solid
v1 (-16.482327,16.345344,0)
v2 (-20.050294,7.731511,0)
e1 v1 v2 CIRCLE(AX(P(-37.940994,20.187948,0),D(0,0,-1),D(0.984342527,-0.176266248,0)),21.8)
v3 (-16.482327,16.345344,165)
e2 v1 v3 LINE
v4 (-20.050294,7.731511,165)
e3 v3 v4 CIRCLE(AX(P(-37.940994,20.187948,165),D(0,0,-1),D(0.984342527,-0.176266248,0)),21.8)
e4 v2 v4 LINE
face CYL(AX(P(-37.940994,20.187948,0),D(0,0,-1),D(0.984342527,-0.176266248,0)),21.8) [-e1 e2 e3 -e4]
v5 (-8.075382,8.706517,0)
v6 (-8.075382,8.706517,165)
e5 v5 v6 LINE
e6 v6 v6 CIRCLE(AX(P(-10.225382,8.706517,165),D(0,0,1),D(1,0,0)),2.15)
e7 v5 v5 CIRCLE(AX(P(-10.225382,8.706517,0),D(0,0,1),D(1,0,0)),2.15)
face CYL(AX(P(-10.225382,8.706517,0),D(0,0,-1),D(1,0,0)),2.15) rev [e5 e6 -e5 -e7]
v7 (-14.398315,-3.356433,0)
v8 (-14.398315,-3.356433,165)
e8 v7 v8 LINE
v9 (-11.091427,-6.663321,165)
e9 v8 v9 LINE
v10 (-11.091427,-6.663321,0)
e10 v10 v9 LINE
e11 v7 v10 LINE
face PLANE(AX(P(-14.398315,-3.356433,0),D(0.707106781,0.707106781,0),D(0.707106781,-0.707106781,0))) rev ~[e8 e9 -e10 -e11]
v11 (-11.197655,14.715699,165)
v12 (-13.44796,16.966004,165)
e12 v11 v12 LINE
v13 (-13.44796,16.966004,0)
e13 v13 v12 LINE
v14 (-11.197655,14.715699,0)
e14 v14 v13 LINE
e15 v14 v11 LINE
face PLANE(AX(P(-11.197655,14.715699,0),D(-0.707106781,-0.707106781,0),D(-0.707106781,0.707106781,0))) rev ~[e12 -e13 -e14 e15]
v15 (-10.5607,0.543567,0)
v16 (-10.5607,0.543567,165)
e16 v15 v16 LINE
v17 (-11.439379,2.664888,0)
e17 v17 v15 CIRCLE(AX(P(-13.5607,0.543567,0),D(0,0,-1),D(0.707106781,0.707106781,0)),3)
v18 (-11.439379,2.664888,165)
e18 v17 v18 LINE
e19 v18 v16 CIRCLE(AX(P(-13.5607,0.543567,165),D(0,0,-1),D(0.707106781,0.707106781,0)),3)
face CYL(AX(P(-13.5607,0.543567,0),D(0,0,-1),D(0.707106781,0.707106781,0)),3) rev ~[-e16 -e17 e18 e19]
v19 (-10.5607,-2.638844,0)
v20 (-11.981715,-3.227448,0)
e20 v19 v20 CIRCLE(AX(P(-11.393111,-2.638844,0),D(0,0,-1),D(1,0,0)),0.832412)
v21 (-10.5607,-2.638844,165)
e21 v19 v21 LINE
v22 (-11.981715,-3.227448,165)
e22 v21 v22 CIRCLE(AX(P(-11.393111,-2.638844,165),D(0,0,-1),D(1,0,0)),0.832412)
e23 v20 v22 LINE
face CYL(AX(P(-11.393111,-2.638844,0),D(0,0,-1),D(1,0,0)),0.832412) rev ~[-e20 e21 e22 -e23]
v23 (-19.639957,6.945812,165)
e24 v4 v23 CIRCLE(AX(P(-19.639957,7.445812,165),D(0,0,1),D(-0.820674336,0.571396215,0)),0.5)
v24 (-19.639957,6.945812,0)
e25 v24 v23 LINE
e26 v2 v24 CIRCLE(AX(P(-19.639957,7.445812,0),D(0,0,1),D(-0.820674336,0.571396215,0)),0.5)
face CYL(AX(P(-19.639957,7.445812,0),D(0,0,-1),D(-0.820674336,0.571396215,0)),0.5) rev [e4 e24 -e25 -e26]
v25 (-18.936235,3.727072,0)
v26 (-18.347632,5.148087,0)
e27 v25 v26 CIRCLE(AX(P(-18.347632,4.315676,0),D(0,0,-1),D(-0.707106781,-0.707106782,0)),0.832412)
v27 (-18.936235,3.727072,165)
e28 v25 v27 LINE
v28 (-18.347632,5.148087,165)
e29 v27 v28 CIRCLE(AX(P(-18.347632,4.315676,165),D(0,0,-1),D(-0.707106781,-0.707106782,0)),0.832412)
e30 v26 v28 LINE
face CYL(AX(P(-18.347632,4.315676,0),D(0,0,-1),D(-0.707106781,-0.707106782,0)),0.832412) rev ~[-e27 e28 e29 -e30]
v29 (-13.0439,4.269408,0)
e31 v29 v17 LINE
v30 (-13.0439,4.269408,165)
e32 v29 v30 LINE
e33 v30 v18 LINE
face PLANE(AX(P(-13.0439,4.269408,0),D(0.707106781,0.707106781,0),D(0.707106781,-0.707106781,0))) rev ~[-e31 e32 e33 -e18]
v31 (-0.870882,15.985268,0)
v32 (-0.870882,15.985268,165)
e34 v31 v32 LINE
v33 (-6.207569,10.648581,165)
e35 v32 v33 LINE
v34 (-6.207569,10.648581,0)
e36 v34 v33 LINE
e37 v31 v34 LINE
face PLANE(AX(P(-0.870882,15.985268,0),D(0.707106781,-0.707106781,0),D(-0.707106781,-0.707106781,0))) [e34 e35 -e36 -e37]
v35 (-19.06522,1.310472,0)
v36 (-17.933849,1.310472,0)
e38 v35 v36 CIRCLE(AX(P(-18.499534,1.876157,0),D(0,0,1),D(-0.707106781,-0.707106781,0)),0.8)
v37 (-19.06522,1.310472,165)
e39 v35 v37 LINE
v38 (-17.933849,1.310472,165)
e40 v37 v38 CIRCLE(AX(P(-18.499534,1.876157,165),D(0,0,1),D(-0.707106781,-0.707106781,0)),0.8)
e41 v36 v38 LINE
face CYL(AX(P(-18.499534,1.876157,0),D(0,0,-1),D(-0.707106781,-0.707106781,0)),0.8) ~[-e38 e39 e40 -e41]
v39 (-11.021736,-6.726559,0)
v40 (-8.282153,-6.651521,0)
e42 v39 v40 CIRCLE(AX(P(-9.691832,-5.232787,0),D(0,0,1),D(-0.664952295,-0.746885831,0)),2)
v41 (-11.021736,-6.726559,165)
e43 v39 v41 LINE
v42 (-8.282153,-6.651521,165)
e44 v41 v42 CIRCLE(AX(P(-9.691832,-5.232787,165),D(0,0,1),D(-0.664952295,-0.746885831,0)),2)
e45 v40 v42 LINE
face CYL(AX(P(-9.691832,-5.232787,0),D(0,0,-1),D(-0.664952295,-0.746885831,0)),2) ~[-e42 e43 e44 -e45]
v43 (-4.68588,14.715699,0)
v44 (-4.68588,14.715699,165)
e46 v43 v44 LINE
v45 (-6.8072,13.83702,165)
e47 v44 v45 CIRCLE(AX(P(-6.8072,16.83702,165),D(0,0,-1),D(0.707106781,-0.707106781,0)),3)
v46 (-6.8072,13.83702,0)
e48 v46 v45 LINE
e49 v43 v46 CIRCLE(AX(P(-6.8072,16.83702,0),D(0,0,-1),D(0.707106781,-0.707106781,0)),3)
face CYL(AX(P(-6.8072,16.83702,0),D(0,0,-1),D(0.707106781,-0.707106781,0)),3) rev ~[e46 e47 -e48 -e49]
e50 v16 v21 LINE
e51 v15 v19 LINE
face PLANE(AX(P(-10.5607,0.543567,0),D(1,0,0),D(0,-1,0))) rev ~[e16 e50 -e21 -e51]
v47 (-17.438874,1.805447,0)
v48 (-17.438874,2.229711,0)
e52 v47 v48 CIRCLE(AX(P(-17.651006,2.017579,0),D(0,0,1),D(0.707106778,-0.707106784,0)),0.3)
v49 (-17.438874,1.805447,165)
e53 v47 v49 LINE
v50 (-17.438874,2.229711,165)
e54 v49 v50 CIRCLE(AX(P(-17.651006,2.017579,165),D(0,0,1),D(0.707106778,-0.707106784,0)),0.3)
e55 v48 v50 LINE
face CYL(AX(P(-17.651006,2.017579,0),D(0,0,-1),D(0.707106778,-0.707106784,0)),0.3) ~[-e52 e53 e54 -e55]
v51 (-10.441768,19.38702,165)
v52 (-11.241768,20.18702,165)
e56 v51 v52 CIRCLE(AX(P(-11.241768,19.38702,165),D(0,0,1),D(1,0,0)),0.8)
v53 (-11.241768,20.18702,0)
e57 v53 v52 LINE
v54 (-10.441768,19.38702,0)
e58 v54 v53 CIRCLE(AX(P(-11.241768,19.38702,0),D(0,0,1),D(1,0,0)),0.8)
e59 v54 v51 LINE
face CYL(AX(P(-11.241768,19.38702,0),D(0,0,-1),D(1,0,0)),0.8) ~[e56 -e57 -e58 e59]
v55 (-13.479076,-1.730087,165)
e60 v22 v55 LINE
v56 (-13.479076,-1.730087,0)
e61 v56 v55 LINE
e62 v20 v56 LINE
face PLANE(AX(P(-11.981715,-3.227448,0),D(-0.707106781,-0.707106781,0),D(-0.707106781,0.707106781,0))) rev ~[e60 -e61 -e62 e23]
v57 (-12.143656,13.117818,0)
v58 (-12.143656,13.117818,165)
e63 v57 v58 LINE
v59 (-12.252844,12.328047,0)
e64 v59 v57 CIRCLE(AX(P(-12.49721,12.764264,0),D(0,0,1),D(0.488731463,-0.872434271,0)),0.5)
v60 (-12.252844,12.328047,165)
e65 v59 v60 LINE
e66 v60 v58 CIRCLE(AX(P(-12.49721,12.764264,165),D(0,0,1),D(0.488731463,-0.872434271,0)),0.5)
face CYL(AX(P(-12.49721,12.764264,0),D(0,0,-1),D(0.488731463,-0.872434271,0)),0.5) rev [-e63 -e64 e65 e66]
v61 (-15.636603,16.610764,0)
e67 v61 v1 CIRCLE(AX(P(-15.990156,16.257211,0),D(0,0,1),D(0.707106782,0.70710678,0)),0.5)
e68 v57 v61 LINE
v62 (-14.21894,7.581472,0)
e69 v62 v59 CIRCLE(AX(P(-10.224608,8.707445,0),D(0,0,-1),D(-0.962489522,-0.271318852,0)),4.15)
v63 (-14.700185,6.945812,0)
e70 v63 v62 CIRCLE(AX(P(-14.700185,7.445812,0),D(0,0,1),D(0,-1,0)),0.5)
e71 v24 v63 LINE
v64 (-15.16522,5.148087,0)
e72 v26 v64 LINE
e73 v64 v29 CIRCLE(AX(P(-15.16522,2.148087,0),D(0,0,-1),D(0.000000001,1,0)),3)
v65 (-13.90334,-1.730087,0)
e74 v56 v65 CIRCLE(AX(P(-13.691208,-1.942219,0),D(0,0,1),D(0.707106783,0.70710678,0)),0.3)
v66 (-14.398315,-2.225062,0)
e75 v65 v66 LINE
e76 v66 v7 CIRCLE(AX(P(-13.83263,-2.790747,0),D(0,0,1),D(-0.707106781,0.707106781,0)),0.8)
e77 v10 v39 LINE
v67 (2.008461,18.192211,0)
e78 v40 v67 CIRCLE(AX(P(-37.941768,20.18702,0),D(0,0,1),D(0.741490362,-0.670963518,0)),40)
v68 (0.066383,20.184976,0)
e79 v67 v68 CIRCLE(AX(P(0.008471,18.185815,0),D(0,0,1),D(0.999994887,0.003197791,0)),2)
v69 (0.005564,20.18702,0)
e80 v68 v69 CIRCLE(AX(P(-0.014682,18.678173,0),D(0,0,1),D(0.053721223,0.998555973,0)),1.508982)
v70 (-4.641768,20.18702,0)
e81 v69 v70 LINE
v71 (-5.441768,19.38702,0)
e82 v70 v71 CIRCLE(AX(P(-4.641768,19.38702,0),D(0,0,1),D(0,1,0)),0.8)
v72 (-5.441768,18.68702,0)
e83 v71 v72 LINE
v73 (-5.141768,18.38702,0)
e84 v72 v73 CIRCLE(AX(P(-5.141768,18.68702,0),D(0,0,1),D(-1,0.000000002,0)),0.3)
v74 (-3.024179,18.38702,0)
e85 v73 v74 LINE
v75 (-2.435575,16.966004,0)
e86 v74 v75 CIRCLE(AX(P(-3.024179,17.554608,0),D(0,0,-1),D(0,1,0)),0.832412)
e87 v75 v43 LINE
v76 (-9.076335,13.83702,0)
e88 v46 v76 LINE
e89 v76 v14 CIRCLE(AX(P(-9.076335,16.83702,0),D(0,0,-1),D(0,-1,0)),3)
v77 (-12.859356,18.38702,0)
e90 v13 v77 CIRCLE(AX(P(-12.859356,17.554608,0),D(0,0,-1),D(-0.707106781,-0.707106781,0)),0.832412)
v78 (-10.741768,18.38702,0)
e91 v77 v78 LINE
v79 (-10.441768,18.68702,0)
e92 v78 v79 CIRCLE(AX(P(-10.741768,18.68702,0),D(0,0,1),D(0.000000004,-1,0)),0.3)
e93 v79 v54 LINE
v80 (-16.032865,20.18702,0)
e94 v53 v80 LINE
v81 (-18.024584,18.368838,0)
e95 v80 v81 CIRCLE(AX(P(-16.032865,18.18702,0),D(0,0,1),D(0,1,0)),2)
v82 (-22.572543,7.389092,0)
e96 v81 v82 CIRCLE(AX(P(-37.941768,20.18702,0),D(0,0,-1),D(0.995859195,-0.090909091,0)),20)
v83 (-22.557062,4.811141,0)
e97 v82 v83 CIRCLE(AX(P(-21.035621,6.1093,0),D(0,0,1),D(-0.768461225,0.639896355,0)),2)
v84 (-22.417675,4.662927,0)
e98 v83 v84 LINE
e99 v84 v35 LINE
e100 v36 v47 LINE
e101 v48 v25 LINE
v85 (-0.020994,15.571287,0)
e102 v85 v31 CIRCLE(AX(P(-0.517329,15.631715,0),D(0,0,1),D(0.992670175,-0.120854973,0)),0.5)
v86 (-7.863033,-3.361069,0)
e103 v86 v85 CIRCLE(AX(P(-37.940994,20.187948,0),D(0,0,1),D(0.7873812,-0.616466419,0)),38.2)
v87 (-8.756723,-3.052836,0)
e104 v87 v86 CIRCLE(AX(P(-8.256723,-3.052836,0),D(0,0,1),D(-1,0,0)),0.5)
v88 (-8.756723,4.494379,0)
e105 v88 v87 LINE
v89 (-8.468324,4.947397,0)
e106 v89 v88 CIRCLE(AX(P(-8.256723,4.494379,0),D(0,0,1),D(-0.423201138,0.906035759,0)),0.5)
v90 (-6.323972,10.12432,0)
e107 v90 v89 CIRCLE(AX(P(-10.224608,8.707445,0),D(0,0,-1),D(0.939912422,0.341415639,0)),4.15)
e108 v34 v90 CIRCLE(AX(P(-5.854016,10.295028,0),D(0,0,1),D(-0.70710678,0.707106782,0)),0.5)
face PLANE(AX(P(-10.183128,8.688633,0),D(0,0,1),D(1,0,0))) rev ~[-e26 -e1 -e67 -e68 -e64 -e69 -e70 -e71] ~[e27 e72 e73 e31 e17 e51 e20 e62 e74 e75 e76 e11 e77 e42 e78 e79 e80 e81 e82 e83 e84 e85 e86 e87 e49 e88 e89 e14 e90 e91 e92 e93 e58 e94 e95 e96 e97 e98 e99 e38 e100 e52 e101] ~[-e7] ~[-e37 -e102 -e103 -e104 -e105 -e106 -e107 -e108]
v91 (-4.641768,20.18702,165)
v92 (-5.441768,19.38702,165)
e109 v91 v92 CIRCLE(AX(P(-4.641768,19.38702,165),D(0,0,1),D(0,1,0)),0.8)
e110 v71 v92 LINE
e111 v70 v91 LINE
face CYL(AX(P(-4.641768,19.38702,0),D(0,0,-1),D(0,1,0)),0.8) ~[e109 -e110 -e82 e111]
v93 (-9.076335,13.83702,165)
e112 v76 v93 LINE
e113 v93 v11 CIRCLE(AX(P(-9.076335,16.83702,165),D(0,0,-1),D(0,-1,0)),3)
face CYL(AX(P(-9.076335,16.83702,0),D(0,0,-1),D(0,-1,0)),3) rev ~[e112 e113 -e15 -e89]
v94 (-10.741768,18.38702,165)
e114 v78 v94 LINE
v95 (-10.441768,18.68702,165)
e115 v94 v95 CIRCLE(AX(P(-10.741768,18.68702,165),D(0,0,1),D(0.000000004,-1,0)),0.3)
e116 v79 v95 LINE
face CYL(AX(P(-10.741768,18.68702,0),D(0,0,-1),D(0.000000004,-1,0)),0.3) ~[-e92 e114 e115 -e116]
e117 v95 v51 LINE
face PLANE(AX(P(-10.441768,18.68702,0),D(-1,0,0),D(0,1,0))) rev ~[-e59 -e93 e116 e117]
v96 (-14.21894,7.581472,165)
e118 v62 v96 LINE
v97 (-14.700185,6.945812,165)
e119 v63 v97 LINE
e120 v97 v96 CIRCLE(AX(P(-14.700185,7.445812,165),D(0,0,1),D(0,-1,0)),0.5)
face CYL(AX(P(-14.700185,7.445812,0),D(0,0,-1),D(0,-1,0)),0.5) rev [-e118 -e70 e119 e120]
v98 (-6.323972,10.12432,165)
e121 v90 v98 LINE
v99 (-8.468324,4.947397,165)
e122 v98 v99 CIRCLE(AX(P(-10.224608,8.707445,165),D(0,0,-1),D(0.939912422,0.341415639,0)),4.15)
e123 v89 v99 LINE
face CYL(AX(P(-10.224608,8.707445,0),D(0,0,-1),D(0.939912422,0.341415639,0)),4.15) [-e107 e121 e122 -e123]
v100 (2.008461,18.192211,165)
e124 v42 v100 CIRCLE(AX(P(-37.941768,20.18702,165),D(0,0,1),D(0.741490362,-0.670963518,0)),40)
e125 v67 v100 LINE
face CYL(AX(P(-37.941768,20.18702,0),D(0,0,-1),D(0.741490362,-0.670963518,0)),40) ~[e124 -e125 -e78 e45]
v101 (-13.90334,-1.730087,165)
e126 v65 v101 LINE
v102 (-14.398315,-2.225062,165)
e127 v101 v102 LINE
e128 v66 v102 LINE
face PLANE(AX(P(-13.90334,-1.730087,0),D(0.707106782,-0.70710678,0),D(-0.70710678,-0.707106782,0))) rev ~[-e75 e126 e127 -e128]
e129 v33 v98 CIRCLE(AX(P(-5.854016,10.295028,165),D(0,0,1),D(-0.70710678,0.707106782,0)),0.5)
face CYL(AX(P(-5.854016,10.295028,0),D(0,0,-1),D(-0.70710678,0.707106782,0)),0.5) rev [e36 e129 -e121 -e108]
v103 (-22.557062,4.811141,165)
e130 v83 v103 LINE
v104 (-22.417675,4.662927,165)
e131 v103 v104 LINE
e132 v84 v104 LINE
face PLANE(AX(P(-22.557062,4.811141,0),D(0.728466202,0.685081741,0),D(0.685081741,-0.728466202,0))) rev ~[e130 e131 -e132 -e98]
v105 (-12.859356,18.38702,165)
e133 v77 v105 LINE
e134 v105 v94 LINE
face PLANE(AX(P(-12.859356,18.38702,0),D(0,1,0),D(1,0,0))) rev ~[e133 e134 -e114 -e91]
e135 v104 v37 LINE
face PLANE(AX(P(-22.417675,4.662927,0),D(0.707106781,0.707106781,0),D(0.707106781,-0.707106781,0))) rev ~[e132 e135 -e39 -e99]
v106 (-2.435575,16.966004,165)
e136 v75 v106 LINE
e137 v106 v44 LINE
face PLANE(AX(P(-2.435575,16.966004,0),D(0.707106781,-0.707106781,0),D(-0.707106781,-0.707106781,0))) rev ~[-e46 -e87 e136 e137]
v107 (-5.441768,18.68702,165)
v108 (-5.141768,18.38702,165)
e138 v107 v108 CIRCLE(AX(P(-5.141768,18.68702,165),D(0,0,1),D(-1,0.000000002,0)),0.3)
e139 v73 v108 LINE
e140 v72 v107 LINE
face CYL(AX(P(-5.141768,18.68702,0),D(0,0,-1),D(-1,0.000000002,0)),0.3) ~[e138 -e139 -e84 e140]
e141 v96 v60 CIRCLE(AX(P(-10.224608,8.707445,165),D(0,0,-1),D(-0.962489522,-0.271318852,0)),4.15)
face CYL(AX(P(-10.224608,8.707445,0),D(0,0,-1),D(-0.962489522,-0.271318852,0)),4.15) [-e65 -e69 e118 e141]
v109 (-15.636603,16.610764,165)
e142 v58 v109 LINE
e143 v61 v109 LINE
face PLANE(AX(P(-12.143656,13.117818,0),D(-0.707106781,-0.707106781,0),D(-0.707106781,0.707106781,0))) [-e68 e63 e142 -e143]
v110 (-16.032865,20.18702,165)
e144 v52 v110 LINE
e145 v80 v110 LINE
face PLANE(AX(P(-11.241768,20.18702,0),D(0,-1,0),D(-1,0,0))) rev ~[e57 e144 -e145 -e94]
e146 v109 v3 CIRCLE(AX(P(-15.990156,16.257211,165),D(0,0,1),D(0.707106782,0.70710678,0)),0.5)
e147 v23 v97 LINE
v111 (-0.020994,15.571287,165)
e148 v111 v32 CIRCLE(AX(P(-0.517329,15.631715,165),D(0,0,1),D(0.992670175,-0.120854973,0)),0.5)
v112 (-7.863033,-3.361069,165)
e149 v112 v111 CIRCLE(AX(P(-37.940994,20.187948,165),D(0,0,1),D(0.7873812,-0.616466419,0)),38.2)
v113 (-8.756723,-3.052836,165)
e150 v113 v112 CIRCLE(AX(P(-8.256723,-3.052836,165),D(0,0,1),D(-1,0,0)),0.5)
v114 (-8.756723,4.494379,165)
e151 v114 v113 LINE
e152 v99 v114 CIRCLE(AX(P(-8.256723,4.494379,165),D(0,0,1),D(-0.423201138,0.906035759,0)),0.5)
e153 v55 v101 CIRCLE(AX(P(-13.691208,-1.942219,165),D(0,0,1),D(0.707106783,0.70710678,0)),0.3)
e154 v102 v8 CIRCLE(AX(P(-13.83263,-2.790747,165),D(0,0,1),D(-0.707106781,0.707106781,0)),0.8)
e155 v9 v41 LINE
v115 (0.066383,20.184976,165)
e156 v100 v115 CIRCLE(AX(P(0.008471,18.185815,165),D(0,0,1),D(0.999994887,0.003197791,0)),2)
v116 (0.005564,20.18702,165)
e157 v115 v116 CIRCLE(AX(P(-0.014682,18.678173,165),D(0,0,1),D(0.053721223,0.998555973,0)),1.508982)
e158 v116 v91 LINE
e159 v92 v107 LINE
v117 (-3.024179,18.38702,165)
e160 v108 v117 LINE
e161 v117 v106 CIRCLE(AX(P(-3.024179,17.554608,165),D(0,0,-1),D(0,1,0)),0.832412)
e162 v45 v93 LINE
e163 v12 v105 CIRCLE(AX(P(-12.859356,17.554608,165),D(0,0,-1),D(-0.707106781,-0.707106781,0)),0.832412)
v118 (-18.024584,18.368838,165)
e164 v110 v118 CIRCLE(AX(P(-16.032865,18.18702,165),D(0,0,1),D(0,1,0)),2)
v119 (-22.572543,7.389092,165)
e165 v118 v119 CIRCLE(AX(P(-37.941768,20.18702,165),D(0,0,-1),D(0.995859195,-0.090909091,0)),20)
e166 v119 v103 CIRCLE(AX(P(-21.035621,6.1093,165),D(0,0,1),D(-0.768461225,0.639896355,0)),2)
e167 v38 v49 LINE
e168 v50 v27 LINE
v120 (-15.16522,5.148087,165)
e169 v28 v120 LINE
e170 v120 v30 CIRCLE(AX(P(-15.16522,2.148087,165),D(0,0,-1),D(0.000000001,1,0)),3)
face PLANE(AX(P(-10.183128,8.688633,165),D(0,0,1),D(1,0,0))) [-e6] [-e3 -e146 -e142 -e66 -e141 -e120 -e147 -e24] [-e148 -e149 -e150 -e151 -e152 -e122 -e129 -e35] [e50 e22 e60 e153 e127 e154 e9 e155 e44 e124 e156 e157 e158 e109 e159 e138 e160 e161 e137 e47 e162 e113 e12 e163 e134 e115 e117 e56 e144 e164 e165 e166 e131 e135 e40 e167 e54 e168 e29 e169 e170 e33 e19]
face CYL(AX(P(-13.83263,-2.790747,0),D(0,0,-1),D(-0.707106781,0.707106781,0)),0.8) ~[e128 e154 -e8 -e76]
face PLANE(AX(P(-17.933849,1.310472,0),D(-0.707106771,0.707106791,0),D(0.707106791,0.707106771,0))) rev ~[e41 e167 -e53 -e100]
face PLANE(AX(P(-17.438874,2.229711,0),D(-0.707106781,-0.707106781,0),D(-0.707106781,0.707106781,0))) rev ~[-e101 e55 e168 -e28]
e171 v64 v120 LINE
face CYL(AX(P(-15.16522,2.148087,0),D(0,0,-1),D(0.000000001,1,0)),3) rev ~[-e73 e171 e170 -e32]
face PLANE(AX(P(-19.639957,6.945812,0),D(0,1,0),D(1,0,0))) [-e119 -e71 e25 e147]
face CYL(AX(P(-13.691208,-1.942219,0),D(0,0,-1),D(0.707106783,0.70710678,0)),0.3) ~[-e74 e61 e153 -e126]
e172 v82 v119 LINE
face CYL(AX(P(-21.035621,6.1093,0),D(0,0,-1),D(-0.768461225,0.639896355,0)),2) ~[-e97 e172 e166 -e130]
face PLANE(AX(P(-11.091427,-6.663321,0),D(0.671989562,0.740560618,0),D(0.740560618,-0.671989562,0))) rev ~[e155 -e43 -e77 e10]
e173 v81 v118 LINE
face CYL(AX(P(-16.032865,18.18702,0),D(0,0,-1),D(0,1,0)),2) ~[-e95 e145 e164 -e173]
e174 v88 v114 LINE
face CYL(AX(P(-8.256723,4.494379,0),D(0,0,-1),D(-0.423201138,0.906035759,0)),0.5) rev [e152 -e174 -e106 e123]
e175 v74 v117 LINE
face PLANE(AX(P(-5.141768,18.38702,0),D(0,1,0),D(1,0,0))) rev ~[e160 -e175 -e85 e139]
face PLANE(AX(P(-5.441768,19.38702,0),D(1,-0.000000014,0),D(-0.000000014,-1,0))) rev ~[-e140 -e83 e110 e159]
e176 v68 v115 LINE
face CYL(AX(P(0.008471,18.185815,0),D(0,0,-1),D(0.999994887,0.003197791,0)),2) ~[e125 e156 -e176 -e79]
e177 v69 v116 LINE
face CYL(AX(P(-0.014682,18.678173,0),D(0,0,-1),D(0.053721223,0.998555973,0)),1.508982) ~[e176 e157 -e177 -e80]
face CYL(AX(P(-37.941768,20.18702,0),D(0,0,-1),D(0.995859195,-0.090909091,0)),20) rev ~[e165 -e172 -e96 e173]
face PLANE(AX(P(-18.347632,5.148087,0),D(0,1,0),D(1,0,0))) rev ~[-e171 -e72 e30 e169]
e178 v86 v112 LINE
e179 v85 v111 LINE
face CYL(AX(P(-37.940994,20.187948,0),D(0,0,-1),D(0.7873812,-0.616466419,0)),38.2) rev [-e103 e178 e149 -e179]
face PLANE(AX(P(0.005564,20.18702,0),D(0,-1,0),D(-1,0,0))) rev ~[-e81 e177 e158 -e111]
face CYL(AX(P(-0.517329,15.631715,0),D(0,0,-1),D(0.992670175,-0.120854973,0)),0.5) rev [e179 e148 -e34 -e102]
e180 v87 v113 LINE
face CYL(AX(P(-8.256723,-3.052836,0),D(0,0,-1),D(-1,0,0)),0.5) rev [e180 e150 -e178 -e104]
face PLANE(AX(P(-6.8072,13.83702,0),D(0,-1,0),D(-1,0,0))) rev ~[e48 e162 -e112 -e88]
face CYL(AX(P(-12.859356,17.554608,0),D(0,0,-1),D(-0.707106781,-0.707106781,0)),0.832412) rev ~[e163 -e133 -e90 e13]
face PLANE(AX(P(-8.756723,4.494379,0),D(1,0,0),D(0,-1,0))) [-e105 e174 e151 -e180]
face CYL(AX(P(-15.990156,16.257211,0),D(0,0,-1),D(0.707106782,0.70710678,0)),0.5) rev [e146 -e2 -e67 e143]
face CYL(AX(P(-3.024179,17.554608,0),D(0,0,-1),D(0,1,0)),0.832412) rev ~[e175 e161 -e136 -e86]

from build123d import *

# Parameters (mm, degrees)
BOSS_EXTRUDE1_DEPTH = 165


with BuildPart() as part:
    # Sketch1 → Boss-Extrude1 (new body)
    with BuildSketch(Plane.XY):
        with BuildLine():
            Line((-17.933849058, 1.310471954), (-17.438874304, 1.805446694))
            ThreePointArc((-17.438874304, 1.805446694), (-17.351006338, 2.017578728), (-17.438874304, 2.229710762))
            Line((-17.438874304, 2.229710762), (-18.936235421, 3.72707188))
            ThreePointArc((-18.936235421, 3.72707188), (-19.116679575, 4.6342259), (-18.347631531, 5.148087374))
            Line((-18.347631531, 5.148087374), (-15.165219907, 5.148087374))
            ThreePointArc((-15.165219907, 5.148087374), (-14.01716961, 4.919725971), (-13.043899564, 4.269407717))
            Line((-13.043899564, 4.269407717), (-11.439379376, 2.66488753))
            ThreePointArc((-11.439379376, 2.66488753), (-10.789061123, 1.691617485), (-10.560699721, 0.54356719))
            Line((-10.560699721, 0.54356719), (-10.560699721, -2.638844434))
            ThreePointArc((-10.560699721, -2.638844434), (-11.074561199, -3.407892483), (-11.981715225, -3.227448328))
            Line((-11.981715225, -3.227448328), (-13.479076343, -1.730087211))
            ThreePointArc((-13.479076343, -1.730087211), (-13.691208377, -1.642219245), (-13.903340412, -1.730087211))
            Line((-13.903340412, -1.730087211), (-14.398315158, -2.225061958))
            ThreePointArc((-14.398315158, -2.225061958), (-14.632629733, -2.790747383), (-14.398315158, -3.356432808))
            Line((-14.398315158, -3.356432808), (-11.091426526, -6.66332144))
            Line((-11.091426526, -6.66332144), (-11.021736276, -6.72655883))
            ThreePointArc((-11.021736276, -6.72655883), (-9.637071865, -7.232037367), (-8.282153045, -6.651521154))
            ThreePointArc((-8.282153045, -6.651521154), (-0.986587883, 4.879678298), (2.008460712, 18.19221058))
            ThreePointArc((2.008460712, 18.19221058), (1.440783284, 19.581695132), (0.06638279, 20.184976381))
            ThreePointArc((0.06638279, 20.184976381), (0.035983891, 20.186304583), (0.00556439, 20.187019567))
            Line((0.00556439, 20.187019567), (-4.64176753, 20.187019567))
            ThreePointArc((-4.64176753, 20.187019567), (-5.207452955, 19.952704992), (-5.44176753, 19.387019567))
            Line((-5.44176753, 19.387019567), (-5.44176754, 18.687019567))
            ThreePointArc((-5.44176754, 18.687019567), (-5.353899574, 18.474887532), (-5.14176754, 18.387019567))
            Line((-5.14176754, 18.387019567), (-3.02417914, 18.387019567))
            ThreePointArc((-3.02417914, 18.387019567), (-2.255131096, 17.873158092), (-2.43557525, 16.966004073))
            Line((-2.43557525, 16.966004073), (-4.68588009, 14.715699233))
            ThreePointArc((-4.68588009, 14.715699233), (-5.659150136, 14.065380979), (-6.807200433, 13.837019576))
            Line((-6.807200433, 13.837019576), (-9.076334643, 13.837019576))
            ThreePointArc((-9.076334643, 13.837019576), (-10.224384938, 14.065380978), (-11.197654983, 14.715699231))
            Line((-11.197654983, 14.715699231), (-13.447959823, 16.966004071))
            ThreePointArc((-13.447959823, 16.966004071), (-13.628403978, 17.873158097), (-12.859355929, 18.387019575))
            Line((-12.859355929, 18.387019575), (-10.741767529, 18.387019575))
            ThreePointArc((-10.741767529, 18.387019575), (-10.529635495, 18.474887541), (-10.441767529, 18.687019575))
            Line((-10.441767529, 18.687019575), (-10.441767529, 19.387019575))
            ThreePointArc((-10.441767529, 19.387019575), (-10.676082104, 19.952705), (-11.241767529, 20.187019575))
            Line((-11.241767529, 20.187019575), (-16.032865229, 20.187019575))
            ThreePointArc((-16.032865229, 20.187019575), (-17.381264954, 19.664117467), (-18.02458362, 18.368837756))
            ThreePointArc((-18.02458362, 18.368837756), (-19.464176878, 12.533350929), (-22.57254303, 7.389092466))
            ThreePointArc((-22.57254303, 7.389092466), (-23.035584519, 6.097289793), (-22.557062201, 4.811141295))
            Line((-22.557062201, 4.811141295), (-22.41767475, 4.662926796))
            Line((-22.41767475, 4.662926796), (-19.065219908, 1.310471954))
            ThreePointArc((-19.065219908, 1.310471954), (-18.499534483, 1.076157379), (-17.933849058, 1.310471954))
        make_face()
        with BuildLine():
            Line((-12.14365631, 13.117817809), (-15.63660261, 16.610764109))
            ThreePointArc((-15.63660261, 16.610764109), (-16.139874769, 16.734268673), (-16.482327269, 16.345343836))
            ThreePointArc((-16.482327269, 16.345343836), (-17.800420542, 11.845449218), (-20.050293851, 7.731510528))
            ThreePointArc((-20.050293851, 7.731510528), (-20.083154751, 7.214348654), (-19.63995668, 6.945812413))
            Line((-19.63995668, 6.945812413), (-14.70018465, 6.945812413))
            ThreePointArc((-14.70018465, 6.945812413), (-14.301543386, 7.144009261), (-14.21893989, 7.581471843))
            ThreePointArc((-14.21893989, 7.581471843), (-14.058708433, 10.295581323), (-12.252843967, 12.328047292))
            ThreePointArc((-12.252843967, 12.328047292), (-12.001920705, 12.695789539), (-12.14365631, 13.117817809))
        make_face(mode=Mode.SUBTRACT)
        with BuildLine():
            Line((-0.870882283, 15.9852679), (-6.207568998, 10.648581185))
            ThreePointArc((-6.207568998, 10.648581185), (-6.342128781, 10.40340459), (-6.323971818, 10.124319975))
            ThreePointArc((-6.323971818, 10.124319975), (-6.390508312, 7.119308828), (-8.468323669, 4.947396666))
            ThreePointArc((-8.468323669, 4.947396666), (-8.678505203, 4.762892953), (-8.7567231, 4.494378786))
            Line((-8.7567231, 4.494378786), (-8.7567231, -3.052835944))
            ThreePointArc((-8.7567231, -3.052835944), (-8.419748711, -3.525511996), (-7.8630325, -3.361069154))
            ThreePointArc((-7.8630325, -3.361069154), (-2.648796205, 5.569440932), (-0.020993808, 15.571287015))
            ThreePointArc((-0.020993808, 15.571287015), (-0.298372973, 16.081223462), (-0.870882283, 15.9852679))
        make_face(mode=Mode.SUBTRACT)
        with BuildLine():
            ThreePointArc((-12.37538155, 8.706516606), (-10.22538155, 6.556516606), (-8.07538155, 8.706516606))
            ThreePointArc((-8.07538155, 8.706516606), (-10.22538155, 10.856516606), (-12.37538155, 8.706516606))
        make_face(mode=Mode.SUBTRACT)
    extrude(amount=BOSS_EXTRUDE1_DEPTH)


solid = part.part
